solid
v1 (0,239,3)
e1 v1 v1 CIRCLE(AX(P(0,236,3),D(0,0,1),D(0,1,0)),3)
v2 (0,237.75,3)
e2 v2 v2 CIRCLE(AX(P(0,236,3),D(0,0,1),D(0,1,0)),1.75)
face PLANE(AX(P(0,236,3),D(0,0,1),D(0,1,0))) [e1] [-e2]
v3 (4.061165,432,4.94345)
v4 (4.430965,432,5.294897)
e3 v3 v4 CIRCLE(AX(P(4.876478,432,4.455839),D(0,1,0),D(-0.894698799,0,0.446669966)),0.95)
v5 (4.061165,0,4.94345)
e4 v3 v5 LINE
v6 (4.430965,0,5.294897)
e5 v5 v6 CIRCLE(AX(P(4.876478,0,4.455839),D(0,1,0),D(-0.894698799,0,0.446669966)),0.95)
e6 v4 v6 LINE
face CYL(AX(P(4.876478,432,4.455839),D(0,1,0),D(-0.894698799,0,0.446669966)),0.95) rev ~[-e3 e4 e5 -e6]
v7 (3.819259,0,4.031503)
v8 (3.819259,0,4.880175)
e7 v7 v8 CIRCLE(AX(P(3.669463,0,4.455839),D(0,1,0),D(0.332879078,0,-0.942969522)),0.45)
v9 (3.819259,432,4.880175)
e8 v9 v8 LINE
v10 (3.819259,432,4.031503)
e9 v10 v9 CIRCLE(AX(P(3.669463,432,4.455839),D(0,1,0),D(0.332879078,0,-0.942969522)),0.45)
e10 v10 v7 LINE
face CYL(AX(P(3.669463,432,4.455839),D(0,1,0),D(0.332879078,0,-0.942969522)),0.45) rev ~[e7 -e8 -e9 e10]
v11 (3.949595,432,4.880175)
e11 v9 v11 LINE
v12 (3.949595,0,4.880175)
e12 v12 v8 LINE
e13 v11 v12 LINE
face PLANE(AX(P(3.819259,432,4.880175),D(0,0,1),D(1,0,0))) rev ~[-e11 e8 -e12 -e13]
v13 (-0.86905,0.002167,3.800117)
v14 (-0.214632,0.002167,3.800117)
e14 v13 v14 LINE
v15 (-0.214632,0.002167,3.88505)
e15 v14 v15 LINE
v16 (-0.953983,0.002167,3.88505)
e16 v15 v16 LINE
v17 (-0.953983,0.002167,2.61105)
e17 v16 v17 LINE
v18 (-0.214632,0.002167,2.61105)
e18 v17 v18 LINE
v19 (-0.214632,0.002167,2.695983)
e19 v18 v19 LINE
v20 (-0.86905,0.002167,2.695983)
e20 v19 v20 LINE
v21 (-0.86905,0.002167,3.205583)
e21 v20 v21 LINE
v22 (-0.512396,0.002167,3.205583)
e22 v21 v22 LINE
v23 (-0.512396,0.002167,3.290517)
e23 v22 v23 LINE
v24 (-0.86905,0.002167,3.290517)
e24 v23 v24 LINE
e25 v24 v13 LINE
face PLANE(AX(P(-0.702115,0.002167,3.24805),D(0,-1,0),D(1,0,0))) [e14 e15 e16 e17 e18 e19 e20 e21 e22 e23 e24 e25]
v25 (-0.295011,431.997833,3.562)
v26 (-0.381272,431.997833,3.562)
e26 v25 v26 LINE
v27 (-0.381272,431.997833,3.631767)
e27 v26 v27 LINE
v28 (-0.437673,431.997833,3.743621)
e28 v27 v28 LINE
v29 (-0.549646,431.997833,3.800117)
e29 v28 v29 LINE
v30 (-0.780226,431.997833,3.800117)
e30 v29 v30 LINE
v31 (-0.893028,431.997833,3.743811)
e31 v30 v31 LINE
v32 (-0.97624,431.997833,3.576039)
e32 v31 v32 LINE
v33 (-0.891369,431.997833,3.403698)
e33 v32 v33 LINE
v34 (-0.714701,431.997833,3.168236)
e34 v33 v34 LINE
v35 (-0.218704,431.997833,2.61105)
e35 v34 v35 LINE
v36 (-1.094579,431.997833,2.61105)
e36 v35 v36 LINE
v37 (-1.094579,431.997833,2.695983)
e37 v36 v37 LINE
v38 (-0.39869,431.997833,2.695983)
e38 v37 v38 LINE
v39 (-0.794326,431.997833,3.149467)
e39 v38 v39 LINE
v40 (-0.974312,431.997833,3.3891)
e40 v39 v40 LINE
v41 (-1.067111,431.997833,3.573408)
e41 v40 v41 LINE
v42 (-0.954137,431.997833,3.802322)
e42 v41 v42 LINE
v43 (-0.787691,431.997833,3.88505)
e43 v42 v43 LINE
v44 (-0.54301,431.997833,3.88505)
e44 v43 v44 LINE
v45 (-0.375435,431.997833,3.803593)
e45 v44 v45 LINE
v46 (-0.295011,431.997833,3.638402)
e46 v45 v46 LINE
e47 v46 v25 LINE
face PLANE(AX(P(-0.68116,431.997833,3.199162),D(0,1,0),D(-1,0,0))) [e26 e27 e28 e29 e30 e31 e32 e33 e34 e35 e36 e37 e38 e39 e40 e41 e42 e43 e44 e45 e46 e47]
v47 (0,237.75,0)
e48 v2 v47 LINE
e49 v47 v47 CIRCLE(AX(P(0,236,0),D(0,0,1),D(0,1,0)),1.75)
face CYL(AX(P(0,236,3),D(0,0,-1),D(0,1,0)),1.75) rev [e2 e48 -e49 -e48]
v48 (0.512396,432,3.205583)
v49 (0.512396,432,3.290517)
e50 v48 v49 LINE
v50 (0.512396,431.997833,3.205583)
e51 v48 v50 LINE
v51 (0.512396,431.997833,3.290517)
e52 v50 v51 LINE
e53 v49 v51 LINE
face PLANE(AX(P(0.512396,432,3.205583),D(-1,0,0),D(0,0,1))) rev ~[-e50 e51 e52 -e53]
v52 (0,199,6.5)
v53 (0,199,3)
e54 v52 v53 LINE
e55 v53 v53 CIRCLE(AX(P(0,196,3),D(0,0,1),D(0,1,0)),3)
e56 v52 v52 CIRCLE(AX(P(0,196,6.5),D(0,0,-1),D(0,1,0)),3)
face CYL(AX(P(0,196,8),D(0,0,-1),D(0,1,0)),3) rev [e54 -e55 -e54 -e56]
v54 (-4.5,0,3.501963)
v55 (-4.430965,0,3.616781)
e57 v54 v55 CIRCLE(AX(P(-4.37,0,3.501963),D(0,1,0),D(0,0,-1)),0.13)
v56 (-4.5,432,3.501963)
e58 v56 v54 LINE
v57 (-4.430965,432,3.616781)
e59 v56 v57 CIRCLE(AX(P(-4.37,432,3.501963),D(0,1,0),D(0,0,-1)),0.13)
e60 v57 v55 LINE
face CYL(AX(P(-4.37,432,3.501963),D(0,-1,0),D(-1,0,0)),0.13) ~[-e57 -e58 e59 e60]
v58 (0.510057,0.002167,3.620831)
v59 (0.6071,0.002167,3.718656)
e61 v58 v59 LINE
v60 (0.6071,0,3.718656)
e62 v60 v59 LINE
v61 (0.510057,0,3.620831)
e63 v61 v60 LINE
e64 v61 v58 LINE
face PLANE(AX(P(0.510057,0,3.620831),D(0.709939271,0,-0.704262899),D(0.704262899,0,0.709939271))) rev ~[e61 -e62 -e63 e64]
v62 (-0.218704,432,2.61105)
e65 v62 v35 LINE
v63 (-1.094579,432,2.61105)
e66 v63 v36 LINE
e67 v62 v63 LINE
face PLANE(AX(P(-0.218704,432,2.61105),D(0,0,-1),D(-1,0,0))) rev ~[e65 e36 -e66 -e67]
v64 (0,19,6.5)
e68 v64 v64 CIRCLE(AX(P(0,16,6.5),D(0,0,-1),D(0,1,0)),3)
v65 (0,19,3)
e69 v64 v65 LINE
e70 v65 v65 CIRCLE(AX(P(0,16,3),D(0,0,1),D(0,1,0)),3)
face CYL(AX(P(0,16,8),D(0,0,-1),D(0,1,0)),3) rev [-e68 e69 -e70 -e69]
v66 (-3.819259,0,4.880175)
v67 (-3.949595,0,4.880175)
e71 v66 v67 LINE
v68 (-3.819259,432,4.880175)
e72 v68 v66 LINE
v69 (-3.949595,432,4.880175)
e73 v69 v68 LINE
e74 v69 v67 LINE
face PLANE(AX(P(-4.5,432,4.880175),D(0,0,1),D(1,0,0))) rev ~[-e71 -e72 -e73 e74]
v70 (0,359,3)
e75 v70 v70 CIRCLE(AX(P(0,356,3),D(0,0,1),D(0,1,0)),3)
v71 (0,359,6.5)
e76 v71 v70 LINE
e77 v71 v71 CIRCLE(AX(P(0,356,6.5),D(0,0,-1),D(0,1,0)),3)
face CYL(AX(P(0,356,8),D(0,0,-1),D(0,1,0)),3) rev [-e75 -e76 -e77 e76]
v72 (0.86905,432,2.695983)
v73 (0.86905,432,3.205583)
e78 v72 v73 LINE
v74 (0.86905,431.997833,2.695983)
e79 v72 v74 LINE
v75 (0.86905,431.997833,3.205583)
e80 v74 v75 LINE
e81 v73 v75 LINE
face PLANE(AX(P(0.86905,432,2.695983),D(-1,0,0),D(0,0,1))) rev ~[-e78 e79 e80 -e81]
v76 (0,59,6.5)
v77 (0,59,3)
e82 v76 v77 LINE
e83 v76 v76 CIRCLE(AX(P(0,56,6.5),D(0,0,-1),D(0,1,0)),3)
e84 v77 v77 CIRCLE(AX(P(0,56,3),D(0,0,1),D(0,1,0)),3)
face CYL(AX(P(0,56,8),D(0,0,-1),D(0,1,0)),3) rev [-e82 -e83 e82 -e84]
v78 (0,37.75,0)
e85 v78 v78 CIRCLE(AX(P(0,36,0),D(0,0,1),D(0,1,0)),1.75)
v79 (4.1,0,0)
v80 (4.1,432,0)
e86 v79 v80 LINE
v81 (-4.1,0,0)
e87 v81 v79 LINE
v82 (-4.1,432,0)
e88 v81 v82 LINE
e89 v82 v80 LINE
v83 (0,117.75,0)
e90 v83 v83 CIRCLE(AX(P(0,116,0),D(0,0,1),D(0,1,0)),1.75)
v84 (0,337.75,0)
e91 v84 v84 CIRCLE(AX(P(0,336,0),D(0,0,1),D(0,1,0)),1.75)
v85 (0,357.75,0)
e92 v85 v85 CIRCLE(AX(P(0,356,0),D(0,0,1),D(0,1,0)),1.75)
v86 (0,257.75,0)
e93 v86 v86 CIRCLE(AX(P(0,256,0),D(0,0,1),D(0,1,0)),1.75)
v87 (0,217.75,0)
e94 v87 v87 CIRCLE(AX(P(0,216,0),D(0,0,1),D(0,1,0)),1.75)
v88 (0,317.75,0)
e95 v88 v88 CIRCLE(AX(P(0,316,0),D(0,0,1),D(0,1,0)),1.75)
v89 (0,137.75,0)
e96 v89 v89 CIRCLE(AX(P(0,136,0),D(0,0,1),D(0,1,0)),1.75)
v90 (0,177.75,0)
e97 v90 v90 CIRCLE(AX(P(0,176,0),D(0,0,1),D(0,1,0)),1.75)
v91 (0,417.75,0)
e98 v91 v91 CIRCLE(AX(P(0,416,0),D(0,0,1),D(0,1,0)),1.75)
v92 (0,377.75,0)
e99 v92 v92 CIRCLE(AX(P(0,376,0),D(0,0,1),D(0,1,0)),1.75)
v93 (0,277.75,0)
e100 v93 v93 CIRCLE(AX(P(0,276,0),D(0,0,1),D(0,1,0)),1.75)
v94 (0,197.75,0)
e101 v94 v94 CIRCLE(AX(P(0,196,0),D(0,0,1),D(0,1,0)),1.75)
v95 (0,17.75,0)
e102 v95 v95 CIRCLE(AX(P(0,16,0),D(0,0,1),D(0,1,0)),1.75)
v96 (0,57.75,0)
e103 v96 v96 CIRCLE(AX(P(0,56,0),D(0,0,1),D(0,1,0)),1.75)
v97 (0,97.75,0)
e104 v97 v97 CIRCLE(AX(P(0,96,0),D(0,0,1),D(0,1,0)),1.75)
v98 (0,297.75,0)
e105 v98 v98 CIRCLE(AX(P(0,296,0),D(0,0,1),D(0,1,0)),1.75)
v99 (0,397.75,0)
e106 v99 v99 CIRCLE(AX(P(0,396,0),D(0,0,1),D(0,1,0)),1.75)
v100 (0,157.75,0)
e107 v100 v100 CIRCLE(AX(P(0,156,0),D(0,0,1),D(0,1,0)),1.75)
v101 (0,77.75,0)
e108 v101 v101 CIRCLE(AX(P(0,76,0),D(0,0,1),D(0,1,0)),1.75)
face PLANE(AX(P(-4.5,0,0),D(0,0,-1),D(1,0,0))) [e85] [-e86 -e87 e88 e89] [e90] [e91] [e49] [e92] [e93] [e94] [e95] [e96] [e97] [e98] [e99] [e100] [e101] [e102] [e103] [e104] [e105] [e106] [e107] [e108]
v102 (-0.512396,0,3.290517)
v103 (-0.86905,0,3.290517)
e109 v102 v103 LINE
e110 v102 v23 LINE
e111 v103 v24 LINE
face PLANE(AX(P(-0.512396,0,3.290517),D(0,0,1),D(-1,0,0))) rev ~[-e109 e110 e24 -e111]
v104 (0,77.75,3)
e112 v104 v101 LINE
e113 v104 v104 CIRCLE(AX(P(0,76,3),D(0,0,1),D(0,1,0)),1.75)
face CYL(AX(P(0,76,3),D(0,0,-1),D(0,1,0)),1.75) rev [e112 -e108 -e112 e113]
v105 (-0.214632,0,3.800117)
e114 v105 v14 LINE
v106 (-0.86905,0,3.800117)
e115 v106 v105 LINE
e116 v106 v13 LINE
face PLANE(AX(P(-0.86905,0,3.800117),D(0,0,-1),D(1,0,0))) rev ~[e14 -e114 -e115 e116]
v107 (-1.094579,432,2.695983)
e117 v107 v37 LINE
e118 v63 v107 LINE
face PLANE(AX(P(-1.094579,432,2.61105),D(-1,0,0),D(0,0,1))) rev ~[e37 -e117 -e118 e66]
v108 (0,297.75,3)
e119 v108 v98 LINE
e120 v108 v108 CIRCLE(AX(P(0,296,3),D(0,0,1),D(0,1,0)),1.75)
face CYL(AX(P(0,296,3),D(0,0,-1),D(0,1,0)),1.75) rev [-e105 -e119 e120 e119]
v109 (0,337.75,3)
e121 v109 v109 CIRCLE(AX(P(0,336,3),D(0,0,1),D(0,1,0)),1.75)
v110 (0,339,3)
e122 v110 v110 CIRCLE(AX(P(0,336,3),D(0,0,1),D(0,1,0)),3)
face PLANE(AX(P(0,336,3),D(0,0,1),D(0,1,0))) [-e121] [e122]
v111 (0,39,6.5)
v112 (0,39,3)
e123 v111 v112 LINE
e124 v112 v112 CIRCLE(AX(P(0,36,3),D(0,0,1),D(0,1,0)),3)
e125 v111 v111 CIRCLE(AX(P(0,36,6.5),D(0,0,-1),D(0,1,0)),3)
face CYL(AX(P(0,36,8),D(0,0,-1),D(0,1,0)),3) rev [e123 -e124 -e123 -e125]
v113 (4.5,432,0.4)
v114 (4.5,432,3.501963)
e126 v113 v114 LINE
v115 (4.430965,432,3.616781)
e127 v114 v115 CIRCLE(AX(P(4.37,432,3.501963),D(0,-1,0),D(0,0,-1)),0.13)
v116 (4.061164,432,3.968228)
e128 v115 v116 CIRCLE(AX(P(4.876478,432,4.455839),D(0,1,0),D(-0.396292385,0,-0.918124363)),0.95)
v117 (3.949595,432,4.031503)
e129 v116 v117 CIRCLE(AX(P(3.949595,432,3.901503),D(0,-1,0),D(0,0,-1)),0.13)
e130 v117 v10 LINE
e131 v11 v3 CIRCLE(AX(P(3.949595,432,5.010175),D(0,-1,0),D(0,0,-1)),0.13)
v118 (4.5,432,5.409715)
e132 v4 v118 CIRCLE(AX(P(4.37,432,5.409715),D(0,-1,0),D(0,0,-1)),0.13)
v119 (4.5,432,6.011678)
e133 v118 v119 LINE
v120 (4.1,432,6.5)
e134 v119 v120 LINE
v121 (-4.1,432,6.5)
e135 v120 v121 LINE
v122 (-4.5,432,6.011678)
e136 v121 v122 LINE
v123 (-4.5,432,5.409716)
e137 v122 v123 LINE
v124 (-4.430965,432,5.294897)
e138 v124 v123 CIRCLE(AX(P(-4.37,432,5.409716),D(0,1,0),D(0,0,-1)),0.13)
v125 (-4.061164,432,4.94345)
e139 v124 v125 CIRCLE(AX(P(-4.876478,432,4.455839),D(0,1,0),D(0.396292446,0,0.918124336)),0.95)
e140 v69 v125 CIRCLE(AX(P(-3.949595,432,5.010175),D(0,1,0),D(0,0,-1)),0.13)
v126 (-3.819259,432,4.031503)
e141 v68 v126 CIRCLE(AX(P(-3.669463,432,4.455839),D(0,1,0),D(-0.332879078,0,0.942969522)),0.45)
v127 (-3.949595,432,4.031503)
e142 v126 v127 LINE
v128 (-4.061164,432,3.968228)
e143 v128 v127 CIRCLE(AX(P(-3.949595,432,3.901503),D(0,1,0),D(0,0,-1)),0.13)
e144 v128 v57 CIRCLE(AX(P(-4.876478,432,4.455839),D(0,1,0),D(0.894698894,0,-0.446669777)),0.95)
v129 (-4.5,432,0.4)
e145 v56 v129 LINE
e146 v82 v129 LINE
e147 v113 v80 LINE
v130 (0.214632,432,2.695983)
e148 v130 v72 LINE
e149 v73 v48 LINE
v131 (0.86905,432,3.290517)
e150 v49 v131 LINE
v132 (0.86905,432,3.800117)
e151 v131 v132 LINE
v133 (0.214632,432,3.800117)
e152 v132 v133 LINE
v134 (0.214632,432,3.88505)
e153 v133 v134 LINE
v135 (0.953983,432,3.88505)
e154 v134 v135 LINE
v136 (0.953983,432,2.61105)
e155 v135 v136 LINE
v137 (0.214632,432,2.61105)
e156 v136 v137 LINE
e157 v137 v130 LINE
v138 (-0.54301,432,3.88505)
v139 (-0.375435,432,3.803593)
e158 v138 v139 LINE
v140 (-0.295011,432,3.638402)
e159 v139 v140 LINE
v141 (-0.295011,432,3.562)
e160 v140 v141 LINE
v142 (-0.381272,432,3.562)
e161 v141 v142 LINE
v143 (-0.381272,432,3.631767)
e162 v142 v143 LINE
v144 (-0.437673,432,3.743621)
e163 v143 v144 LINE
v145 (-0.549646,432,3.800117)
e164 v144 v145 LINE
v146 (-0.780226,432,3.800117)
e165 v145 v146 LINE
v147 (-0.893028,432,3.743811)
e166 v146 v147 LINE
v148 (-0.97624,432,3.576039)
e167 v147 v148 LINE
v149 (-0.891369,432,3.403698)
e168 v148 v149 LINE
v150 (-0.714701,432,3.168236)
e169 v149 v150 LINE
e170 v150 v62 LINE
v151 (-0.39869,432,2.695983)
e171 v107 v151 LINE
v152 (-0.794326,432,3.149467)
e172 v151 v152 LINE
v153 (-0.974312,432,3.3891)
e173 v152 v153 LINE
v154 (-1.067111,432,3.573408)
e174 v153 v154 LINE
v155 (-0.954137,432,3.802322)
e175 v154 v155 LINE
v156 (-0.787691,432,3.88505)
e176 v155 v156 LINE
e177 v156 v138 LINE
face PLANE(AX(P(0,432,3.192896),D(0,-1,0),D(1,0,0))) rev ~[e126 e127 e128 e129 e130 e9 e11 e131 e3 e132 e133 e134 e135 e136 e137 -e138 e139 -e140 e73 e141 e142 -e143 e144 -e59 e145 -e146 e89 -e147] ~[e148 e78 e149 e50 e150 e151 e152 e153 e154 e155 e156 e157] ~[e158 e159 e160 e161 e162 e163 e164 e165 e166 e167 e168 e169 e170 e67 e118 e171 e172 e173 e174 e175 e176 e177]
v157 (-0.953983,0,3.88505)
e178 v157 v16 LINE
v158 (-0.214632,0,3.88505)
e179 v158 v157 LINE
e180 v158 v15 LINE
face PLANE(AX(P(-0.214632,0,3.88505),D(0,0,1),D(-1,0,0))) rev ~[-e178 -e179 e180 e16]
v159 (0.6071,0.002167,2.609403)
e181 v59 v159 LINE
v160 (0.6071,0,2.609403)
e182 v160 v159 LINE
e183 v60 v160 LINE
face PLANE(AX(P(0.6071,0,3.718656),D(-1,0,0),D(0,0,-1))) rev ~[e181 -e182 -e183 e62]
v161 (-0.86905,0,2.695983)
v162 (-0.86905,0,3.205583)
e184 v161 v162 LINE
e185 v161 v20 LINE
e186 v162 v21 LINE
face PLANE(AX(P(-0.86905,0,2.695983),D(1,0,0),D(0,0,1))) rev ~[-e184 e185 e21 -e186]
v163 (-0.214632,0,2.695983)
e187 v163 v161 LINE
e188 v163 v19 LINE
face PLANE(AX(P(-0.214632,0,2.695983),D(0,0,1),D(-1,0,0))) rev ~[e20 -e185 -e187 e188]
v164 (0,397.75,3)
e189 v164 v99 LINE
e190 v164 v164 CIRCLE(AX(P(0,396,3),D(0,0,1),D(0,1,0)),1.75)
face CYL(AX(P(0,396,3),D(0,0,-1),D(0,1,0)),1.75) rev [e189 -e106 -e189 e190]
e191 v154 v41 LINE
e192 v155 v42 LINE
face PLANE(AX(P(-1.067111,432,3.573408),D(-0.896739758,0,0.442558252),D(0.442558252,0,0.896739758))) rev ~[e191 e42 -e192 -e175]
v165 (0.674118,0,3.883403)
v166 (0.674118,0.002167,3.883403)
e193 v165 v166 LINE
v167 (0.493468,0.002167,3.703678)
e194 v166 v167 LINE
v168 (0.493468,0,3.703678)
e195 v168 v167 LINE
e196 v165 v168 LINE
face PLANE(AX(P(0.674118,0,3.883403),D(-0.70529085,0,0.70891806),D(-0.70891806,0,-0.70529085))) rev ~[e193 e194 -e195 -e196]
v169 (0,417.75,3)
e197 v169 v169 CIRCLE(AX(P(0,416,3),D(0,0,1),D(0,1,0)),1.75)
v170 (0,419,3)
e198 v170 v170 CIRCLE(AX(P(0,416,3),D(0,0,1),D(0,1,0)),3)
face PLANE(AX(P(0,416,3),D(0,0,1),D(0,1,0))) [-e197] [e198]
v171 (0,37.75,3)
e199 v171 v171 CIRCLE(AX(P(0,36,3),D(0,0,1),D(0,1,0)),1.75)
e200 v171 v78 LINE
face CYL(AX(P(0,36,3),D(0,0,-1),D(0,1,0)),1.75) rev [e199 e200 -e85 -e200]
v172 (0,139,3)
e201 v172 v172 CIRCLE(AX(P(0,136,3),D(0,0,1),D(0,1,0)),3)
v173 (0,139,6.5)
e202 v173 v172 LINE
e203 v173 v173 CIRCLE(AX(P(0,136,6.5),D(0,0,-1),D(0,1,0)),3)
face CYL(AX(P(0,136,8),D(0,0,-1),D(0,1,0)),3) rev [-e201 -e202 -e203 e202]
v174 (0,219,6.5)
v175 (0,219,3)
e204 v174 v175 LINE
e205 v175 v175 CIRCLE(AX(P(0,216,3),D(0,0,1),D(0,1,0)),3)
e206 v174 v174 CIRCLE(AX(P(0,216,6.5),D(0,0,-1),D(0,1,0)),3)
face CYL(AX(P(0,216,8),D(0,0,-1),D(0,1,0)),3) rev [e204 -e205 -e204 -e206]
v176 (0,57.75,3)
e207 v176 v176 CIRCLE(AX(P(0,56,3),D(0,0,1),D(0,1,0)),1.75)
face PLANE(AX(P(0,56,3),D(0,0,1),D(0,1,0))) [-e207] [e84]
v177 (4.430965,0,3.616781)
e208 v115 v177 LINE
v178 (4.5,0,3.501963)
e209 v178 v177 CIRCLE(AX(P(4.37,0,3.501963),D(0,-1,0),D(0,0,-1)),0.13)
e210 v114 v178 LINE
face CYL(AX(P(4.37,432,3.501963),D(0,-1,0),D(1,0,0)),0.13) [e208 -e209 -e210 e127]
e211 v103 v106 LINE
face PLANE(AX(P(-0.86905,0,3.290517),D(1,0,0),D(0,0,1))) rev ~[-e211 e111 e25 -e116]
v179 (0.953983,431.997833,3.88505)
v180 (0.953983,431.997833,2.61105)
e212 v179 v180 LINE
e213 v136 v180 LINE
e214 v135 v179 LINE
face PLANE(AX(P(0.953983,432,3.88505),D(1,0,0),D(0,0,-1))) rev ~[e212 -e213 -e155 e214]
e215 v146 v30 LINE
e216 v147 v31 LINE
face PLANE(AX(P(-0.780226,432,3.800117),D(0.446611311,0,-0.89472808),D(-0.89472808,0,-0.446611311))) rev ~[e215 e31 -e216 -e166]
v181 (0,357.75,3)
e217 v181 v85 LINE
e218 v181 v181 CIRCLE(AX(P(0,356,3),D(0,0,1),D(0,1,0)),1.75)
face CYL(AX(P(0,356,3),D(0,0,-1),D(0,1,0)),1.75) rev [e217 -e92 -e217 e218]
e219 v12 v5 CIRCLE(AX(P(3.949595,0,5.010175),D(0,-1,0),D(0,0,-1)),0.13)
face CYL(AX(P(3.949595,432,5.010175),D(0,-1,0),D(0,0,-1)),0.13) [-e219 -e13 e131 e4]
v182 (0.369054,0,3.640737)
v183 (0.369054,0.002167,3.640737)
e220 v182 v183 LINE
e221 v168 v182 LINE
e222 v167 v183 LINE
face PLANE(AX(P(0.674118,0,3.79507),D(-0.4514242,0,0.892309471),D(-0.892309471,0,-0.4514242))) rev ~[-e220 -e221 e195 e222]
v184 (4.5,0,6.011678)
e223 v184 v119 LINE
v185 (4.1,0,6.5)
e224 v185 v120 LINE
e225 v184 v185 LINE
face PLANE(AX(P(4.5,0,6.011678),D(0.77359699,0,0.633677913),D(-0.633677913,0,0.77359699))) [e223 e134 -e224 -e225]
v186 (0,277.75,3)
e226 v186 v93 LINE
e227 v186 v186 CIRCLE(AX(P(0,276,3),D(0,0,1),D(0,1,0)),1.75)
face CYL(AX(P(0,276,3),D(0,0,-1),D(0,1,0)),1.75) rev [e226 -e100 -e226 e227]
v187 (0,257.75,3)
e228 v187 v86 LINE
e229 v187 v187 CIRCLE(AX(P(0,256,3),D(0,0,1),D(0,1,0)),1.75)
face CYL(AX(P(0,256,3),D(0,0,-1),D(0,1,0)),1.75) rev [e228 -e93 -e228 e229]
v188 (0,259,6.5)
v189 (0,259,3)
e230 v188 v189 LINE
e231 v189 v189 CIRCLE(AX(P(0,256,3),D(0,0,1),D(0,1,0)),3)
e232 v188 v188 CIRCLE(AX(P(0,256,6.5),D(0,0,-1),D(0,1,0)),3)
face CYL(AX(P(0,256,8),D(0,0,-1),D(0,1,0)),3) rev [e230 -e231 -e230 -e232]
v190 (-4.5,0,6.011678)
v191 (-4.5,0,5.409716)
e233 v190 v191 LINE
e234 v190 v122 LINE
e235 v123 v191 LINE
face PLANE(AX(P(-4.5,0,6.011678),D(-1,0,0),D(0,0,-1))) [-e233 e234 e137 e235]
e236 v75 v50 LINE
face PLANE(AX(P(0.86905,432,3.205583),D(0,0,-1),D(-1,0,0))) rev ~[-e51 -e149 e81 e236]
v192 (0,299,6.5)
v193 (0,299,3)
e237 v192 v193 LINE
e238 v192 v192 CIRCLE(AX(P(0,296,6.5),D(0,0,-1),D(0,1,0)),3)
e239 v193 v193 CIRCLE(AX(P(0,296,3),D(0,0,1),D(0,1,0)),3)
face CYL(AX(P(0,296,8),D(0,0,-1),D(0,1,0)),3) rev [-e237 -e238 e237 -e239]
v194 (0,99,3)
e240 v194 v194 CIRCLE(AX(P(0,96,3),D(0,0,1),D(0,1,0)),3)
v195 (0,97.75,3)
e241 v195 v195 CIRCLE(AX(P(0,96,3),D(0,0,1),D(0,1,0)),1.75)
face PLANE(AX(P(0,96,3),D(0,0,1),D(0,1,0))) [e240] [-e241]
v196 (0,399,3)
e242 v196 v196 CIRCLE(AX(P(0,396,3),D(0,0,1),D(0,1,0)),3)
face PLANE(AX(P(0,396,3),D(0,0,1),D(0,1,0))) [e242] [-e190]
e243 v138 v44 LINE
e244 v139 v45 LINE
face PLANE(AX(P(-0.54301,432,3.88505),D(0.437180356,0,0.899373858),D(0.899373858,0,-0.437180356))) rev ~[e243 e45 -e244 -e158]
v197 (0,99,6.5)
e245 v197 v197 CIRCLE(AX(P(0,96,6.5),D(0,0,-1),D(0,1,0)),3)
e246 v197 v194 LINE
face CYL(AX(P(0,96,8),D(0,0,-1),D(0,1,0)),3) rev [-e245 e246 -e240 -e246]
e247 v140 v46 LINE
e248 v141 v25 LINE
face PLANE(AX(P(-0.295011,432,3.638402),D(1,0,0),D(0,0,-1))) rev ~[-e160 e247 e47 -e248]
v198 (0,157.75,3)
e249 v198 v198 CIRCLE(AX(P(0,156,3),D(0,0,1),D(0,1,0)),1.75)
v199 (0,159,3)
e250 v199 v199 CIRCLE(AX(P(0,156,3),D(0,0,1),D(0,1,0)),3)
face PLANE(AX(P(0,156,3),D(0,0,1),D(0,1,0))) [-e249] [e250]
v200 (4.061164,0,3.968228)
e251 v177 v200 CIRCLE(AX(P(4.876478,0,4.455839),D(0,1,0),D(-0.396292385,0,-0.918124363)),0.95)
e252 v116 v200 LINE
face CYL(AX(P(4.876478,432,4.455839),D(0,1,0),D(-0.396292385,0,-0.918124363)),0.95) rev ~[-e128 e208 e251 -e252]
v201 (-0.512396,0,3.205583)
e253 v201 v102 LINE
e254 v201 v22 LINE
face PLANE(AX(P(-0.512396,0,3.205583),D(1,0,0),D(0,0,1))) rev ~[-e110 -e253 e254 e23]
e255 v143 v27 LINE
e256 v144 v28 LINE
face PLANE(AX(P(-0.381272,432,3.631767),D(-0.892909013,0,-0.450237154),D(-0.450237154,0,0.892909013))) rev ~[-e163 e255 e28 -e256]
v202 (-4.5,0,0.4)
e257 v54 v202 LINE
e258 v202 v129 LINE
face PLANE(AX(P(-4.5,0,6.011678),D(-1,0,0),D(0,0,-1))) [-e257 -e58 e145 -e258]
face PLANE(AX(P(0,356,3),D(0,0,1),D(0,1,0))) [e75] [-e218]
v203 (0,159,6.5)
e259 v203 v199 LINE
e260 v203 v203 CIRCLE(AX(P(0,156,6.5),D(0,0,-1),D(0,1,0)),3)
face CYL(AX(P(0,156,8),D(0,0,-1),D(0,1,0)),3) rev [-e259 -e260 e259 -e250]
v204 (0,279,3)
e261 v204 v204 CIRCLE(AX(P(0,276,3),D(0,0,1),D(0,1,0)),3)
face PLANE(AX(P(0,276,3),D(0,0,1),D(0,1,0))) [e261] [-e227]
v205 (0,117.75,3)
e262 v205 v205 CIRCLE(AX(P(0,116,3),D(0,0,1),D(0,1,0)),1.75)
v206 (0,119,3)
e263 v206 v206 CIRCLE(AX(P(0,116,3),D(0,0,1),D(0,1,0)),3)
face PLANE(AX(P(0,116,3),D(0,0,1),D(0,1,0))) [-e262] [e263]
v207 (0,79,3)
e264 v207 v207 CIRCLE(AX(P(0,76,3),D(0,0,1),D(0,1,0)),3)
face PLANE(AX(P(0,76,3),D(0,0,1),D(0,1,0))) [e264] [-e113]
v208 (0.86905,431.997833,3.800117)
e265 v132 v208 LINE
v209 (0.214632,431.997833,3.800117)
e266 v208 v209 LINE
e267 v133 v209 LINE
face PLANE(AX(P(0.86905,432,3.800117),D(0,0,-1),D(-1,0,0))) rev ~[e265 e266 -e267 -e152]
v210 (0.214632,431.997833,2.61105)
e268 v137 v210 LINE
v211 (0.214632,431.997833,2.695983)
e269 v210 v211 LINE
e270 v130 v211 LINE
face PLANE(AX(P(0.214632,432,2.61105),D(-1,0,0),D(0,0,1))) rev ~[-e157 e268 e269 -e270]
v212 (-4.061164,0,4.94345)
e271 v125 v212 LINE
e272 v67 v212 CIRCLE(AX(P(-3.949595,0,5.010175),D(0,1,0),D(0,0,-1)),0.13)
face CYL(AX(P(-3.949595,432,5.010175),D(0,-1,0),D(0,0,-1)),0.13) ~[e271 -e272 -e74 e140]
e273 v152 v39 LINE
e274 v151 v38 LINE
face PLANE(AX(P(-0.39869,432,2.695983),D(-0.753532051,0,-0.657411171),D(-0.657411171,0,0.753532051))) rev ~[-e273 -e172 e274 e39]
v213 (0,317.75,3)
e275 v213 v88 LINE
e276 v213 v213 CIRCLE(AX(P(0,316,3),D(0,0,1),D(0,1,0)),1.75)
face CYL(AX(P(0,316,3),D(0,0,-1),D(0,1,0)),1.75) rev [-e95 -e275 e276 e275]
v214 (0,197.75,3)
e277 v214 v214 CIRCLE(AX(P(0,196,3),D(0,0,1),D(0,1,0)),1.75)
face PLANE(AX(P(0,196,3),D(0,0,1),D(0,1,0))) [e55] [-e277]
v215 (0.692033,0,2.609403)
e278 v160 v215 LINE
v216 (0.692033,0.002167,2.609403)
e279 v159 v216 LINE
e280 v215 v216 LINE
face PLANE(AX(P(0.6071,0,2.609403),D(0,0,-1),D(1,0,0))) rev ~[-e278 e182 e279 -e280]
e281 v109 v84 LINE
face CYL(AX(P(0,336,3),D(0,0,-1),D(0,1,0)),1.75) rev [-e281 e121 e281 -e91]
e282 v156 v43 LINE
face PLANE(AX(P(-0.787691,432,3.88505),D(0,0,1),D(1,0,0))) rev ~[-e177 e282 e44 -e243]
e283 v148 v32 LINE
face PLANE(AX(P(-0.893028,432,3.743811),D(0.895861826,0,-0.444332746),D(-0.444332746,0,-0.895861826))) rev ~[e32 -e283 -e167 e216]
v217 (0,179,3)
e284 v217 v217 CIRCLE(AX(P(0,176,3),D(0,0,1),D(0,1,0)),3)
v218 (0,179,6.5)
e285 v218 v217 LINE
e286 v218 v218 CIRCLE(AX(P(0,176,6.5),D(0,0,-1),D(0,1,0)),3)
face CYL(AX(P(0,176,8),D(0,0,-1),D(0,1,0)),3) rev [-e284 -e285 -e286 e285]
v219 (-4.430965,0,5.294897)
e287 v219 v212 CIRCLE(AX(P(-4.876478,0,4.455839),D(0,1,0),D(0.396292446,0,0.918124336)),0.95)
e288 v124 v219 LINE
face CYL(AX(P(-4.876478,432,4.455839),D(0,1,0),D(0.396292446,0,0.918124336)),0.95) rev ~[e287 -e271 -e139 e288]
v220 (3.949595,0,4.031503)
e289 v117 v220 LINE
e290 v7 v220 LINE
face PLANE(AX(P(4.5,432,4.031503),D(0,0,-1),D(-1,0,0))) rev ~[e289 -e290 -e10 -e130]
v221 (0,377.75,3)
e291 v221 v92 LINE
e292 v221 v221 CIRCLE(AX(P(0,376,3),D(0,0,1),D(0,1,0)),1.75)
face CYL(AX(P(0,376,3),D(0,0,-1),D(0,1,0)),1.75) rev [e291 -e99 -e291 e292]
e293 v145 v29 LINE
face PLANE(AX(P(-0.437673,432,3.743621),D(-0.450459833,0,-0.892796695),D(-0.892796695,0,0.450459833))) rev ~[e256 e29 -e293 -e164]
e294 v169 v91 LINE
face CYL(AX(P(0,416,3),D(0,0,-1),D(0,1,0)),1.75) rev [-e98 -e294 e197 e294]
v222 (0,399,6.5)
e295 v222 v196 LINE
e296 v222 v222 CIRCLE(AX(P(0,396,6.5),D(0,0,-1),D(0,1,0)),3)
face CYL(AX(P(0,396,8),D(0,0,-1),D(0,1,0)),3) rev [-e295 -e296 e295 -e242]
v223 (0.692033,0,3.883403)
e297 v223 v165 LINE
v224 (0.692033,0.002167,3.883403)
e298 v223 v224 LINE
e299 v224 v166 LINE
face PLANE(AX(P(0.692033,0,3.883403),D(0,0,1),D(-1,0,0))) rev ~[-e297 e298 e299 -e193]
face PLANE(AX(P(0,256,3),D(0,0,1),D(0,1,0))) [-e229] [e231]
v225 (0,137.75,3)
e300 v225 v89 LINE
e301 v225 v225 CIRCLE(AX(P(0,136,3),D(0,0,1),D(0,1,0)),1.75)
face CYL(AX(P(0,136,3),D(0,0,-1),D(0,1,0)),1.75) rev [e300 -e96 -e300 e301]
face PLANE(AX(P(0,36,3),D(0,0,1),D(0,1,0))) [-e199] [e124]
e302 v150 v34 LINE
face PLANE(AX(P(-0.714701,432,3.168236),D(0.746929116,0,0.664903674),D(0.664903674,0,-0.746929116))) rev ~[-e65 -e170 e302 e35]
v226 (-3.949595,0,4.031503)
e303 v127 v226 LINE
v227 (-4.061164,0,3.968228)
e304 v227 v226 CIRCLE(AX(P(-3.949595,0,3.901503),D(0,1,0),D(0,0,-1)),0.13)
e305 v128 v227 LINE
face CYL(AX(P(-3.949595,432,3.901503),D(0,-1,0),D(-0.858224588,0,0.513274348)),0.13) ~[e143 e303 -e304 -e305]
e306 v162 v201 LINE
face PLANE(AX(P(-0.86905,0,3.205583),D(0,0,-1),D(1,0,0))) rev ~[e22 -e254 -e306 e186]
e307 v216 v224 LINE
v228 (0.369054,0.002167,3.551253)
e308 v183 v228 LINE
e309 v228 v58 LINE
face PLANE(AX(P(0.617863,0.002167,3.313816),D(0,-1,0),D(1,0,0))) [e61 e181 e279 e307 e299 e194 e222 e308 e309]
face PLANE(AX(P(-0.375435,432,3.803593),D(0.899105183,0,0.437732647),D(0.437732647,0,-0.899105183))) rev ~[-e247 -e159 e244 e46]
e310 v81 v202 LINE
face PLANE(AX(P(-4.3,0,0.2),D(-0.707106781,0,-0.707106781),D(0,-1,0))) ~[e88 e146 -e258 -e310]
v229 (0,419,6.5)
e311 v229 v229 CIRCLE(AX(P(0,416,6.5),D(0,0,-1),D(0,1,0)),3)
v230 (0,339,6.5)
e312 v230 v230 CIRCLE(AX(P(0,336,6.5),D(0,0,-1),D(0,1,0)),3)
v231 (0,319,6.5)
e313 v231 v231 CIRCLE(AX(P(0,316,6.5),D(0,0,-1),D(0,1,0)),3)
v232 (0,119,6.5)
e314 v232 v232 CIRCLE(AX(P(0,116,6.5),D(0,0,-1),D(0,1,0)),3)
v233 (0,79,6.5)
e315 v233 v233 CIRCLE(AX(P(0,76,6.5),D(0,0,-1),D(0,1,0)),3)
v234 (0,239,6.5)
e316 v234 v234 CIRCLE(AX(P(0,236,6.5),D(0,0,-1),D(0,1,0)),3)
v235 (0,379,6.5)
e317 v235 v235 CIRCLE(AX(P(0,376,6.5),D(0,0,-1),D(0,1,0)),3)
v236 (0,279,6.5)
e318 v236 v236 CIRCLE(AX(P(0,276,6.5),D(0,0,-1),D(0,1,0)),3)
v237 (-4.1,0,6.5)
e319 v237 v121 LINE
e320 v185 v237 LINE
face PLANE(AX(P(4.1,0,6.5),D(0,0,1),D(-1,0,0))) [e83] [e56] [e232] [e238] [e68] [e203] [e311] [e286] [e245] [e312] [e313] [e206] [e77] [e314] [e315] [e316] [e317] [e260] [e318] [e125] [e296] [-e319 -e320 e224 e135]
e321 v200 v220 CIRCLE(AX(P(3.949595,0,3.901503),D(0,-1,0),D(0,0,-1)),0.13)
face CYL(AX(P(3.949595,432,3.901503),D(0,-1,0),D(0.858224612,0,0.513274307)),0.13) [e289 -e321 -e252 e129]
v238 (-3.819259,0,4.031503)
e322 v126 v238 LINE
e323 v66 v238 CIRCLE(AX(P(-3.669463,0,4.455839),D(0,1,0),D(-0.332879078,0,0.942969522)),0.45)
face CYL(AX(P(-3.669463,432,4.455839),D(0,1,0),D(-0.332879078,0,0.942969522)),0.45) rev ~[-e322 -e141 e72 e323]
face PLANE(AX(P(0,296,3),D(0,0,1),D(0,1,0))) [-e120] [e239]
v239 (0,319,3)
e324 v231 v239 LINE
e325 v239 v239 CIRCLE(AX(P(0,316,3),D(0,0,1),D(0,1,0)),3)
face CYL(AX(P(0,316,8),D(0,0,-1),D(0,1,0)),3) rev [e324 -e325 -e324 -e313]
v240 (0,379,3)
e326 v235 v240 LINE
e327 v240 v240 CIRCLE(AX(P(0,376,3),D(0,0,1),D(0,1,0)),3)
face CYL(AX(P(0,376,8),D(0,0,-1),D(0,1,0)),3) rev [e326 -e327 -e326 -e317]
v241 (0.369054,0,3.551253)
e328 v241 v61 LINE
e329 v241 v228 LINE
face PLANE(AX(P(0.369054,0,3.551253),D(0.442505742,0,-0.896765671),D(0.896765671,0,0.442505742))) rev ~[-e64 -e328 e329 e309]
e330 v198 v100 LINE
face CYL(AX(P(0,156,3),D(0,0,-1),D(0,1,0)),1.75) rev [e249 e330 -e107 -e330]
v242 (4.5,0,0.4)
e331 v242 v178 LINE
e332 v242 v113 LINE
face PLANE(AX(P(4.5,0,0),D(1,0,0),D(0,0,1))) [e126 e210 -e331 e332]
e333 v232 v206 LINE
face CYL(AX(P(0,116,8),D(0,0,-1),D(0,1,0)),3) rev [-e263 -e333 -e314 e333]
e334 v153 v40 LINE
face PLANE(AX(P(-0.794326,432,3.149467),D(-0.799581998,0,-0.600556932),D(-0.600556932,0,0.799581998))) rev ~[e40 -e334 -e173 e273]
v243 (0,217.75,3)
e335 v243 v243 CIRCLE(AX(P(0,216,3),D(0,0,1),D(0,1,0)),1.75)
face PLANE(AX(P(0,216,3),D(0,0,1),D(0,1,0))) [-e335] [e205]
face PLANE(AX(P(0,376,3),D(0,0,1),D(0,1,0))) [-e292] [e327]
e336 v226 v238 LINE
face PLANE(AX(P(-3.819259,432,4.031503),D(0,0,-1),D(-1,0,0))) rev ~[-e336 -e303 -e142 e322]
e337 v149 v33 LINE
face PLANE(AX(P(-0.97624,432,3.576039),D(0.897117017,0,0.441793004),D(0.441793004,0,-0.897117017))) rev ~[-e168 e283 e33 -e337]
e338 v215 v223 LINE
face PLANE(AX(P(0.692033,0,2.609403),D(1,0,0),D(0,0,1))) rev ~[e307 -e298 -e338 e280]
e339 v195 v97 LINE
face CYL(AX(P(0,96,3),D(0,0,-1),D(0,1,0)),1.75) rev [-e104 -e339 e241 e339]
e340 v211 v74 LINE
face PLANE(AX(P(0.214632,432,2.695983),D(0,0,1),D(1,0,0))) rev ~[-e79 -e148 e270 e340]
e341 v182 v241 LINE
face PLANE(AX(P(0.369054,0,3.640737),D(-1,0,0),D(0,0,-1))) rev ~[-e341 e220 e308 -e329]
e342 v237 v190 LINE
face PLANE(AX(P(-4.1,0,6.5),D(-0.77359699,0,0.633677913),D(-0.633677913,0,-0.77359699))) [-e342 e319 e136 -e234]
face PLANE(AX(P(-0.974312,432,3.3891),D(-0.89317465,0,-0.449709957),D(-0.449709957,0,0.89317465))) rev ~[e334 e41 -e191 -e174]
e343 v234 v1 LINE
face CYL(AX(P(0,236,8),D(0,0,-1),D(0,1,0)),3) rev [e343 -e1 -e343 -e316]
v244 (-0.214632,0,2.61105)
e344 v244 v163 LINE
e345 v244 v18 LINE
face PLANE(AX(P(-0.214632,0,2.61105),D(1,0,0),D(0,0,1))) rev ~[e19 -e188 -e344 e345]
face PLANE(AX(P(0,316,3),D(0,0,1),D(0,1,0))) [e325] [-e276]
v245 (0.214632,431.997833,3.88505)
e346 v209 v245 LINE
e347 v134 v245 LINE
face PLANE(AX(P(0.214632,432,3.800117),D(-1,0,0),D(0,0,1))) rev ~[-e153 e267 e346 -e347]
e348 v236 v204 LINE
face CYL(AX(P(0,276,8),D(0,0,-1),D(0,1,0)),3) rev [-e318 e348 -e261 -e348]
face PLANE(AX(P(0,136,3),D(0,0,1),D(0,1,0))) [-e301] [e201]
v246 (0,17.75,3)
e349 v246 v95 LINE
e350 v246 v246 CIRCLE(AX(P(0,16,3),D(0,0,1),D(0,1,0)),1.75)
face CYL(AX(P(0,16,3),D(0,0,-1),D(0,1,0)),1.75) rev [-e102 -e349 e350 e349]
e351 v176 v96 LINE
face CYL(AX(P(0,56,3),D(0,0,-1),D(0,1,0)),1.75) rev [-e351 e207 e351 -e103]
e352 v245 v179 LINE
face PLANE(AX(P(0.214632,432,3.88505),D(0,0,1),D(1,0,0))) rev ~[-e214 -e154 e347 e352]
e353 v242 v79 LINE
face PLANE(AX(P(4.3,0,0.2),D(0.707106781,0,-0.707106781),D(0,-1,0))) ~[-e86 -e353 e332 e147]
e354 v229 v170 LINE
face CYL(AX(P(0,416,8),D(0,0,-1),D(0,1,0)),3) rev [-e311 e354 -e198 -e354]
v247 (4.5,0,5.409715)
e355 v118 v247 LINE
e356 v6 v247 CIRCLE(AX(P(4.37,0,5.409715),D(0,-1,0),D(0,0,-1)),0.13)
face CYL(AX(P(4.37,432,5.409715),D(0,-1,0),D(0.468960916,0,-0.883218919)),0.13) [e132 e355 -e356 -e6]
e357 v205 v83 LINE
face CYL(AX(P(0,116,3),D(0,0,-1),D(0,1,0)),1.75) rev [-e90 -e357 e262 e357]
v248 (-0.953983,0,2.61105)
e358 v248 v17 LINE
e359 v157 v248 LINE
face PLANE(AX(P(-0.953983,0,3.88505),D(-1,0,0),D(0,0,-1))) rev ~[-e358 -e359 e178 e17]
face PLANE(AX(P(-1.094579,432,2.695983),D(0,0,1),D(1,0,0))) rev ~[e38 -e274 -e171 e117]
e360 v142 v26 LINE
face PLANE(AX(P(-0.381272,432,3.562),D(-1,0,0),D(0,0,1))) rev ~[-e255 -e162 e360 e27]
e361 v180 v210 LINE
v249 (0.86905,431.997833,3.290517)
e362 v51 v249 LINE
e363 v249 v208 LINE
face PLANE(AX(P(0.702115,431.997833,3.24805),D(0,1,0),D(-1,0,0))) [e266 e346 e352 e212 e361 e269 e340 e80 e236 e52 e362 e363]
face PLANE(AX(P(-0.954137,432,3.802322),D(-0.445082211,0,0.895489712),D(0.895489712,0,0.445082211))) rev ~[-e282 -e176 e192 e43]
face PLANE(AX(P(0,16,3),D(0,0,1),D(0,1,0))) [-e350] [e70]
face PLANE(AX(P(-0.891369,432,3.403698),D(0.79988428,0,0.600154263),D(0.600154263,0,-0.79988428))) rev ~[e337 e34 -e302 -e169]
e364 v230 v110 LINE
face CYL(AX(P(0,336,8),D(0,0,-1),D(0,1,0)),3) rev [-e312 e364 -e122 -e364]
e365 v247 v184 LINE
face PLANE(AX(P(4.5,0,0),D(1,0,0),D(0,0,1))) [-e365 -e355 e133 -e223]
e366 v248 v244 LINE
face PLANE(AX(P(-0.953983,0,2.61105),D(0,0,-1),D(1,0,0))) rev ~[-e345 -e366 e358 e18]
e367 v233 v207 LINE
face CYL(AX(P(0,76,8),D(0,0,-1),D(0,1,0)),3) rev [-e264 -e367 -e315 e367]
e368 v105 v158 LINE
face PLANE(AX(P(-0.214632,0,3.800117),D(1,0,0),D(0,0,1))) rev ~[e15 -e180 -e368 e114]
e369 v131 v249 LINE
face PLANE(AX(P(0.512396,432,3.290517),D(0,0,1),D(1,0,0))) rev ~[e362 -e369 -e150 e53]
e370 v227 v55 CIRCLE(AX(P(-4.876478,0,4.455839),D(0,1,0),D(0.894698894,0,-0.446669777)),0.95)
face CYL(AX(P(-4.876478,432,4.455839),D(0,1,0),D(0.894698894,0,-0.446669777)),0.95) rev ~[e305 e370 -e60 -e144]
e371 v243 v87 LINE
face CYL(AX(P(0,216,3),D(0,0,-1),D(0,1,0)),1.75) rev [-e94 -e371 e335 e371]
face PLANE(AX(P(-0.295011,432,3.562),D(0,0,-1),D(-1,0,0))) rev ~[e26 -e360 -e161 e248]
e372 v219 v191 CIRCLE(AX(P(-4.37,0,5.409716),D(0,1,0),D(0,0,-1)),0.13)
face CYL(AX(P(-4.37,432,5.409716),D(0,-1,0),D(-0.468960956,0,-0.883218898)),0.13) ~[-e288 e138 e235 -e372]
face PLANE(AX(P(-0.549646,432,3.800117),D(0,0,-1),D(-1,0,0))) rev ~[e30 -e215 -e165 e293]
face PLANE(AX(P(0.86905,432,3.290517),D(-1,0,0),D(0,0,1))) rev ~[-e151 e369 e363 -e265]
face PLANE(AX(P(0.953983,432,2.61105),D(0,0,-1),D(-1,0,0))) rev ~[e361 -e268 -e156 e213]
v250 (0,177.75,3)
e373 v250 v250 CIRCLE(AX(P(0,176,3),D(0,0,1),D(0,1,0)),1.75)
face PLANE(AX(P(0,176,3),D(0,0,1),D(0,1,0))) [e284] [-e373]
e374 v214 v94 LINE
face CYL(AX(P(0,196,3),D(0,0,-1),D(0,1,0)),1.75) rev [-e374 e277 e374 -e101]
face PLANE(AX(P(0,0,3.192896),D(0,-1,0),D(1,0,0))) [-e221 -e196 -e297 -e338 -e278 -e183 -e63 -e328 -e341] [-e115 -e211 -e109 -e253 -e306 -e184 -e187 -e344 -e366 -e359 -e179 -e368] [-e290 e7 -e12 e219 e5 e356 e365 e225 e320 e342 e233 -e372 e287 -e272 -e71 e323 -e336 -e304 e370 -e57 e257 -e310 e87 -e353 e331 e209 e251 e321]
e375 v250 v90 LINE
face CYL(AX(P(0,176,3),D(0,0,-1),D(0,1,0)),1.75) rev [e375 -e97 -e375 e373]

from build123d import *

# Parameters (mm, degrees)
SALIENTE_EXTRUIR1_DEPTH = 432
CORTAR_EXTRUIR1_DEPTH   = 433.072331908
CORTAR_EXTRUIR2_DEPTH   = 433.072331908
CORTAR_EXTRUIR3_DEPTH   = 433.072331908
CORTAR_EXTRUIR4_DEPTH   = 433.072331908
CORTAR_EXTRUIR5_DEPTH   = 433.072331908
CORTAR_EXTRUIR6_DEPTH   = 433.072331908
CORTAR_EXTRUIR7_DEPTH   = 0.002166667
CORTAR_EXTRUIR8_DEPTH   = 0.002166667
CORTAR_EXTRUIR9_DEPTH   = 0.002166667
CORTAR_EXTRUIR10_DEPTH  = 0.002166667
NGULO_DE_SALIDA1_ANGLE  = 45.1469538
CHAFL_N1_SIZE           = 0.4
REDONDEO1_R             = 0.130000023
MATRIZL2_COUNT          = 21
MATRIZL2_PITCH          = 20


with BuildPart() as part:
    # Croquis1 → Saliente-Extruir1 (new body)
    with BuildSketch(Plane.XZ):
        Polygon((4.5, 0), (4.5, 6.01167813), (4.1, 6.50000002), (-4.1, 6.50000002), (-4.5, 6.01167813), (-4.5, 0), align=None)
    extrude(amount=-SALIENTE_EXTRUIR1_DEPTH)

    # Croquis2 → Cortar-Extruir1 (cut, through all)
    with BuildSketch(Plane(origin=(0, 432, 0), x_dir=(-1, 0, 0), z_dir=(0, 1, 0))):
        with BuildLine():
            Line((-4.5, 4.88017535), (-4.5, 4.03150278))
            Line((-4.5, 4.03150278), (-3.819258765, 4.03150278))
            ThreePointArc((-3.819258765, 4.03150278), (-3.21946318, 4.455839065), (-3.819258765, 4.88017535))
            Line((-3.819258765, 4.88017535), (-4.5, 4.88017535))
        make_face()
    extrude(amount=-CORTAR_EXTRUIR1_DEPTH, mode=Mode.SUBTRACT)

    # Croquis3 → Cortar-Extruir2 (cut, through all)
    with BuildSketch(Plane(origin=(0, 432, 0), x_dir=(-1, 0, 0), z_dir=(0, 1, 0))):
        with BuildLine():
            Line((-4.026513856, 4.03150278), (-4.5, 4.03150278))
            Line((-4.5, 4.03150278), (-4.5, 3.583620931))
            ThreePointArc((-4.5, 3.583620931), (-4.223645982, 3.76568645), (-4.026513856, 4.03150278))
        make_face()
    extrude(amount=-CORTAR_EXTRUIR2_DEPTH, mode=Mode.SUBTRACT)

    # Croquis4 → Cortar-Extruir3 (cut, through all)
    with BuildSketch(Plane(origin=(0, 432, 0), x_dir=(-1, 0, 0), z_dir=(0, 1, 0))):
        with BuildLine():
            Line((-4.5, 5.328056964), (-4.5, 4.88017535))
            Line((-4.5, 4.88017535), (-4.026513974, 4.88017535))
            ThreePointArc((-4.026513974, 4.88017535), (-4.223646078, 5.145991535), (-4.5, 5.328056964))
        make_face()
    extrude(amount=-CORTAR_EXTRUIR3_DEPTH, mode=Mode.SUBTRACT)

    # Croquis5 → Cortar-Extruir4 (cut, through all)
    with BuildSketch(Plane(origin=(0, 432, 0), x_dir=(-1, 0, 0), z_dir=(0, 1, 0))):
        with BuildLine():
            Line((4.5, 4.03150278), (4.5, 4.88017535))
            Line((4.5, 4.88017535), (3.819258765, 4.88017535))
            ThreePointArc((3.819258765, 4.88017535), (3.21946318, 4.455839065), (3.819258765, 4.03150278))
            Line((3.819258765, 4.03150278), (4.5, 4.03150278))
        make_face()
    extrude(amount=-CORTAR_EXTRUIR4_DEPTH, mode=Mode.SUBTRACT)

    # Croquis6 → Cortar-Extruir5 (cut, through all)
    with BuildSketch(Plane(origin=(0, 432, 0), x_dir=(-1, 0, 0), z_dir=(0, 1, 0))):
        with BuildLine():
            Line((4.026513826, 4.88017535), (4.5, 4.88017535))
            Line((4.5, 4.88017535), (4.5, 5.328057255))
            ThreePointArc((4.5, 5.328057255), (4.223645966, 5.145991706), (4.026513826, 4.88017535))
        make_face()
    extrude(amount=-CORTAR_EXTRUIR5_DEPTH, mode=Mode.SUBTRACT)

    # Croquis7 → Cortar-Extruir6 (cut, through all)
    with BuildSketch(Plane(origin=(0, 432, 0), x_dir=(-1, 0, 0), z_dir=(0, 1, 0))):
        with BuildLine():
            Line((4.5, 3.583620926), (4.5, 4.03150278))
            Line((4.5, 4.03150278), (4.026513851, 4.03150278))
            ThreePointArc((4.026513851, 4.03150278), (4.223645987, 3.765686455), (4.5, 3.583620926))
        make_face()
    extrude(amount=-CORTAR_EXTRUIR6_DEPTH, mode=Mode.SUBTRACT)

    # Croquis8 → Cortar-Extruir7 (cut)
    with BuildSketch(Plane(origin=(0, 432, 0), x_dir=(-1, 0, 0), z_dir=(0, 1, 0))):
        Polygon((0.891369267, 3.403698133), (0.714701433, 3.168235633), (0.2187042, 2.61105), (1.0945792, 2.61105), (1.0945792, 2.695983333), (0.398689633, 2.695983333), (0.794326433, 3.149466667), (0.9743123, 3.3891), (1.067110588, 3.573407857), (0.95413722, 3.802321701), (0.7876908, 3.88505), (0.54301, 3.88505), (0.375434678, 3.803592619), (0.295011167, 3.6384023), (0.295011167, 3.562), (0.3812718, 3.562), (0.3812718, 3.631766667), (0.437672733, 3.743620833), (0.549645633, 3.800116667), (0.7802262, 3.800116667), (0.893028067, 3.743810633), (0.976240026, 3.576039029), align=None)
    extrude(amount=-CORTAR_EXTRUIR7_DEPTH, mode=Mode.SUBTRACT)

    # Croquis9 → Cortar-Extruir8 (cut)
    with BuildSketch(Plane.XZ):
        Polygon((-0.214632167, 3.88505), (-0.953983333, 3.88505), (-0.953983333, 2.61105), (-0.214632167, 2.61105), (-0.214632167, 2.695983333), (-0.86905, 2.695983333), (-0.86905, 3.205583333), (-0.5123963, 3.205583333), (-0.5123963, 3.290516667), (-0.86905, 3.290516667), (-0.86905, 3.800116667), (-0.214632167, 3.800116667), align=None)
    extrude(amount=-CORTAR_EXTRUIR8_DEPTH, mode=Mode.SUBTRACT)

    # Croquis10 → Cortar-Extruir9 (cut)
    with BuildSketch(Plane(origin=(0, 432, 0), x_dir=(-1, 0, 0), z_dir=(0, 1, 0))):
        Polygon((-0.214632167, 3.88505), (-0.953983333, 3.88505), (-0.953983333, 2.61105), (-0.214632167, 2.61105), (-0.214632167, 2.695983333), (-0.86905, 2.695983333), (-0.86905, 3.205583333), (-0.5123963, 3.205583333), (-0.5123963, 3.290516667), (-0.86905, 3.290516667), (-0.86905, 3.800116667), (-0.214632167, 3.800116667), align=None)
    extrude(amount=-CORTAR_EXTRUIR9_DEPTH, mode=Mode.SUBTRACT)

    # Croquis11 → Cortar-Extruir10 (cut)
    with BuildSketch(Plane.XZ):
        Polygon((0.510057167, 3.620830633), (0.6071, 3.718655633), (0.6071, 2.609403333), (0.692033333, 2.609403333), (0.692033333, 3.883403333), (0.6741176, 3.883403333), (0.6741176, 3.795069794), (0.3690544, 3.640736667), (0.3690544, 3.551253333), align=None)
    extrude(amount=-CORTAR_EXTRUIR10_DEPTH, mode=Mode.SUBTRACT)

    # Ángulo de salida1
    ngulo_de_salida1_faces = [part.faces().sort_by_distance(p)[0] for p in [
        (0.6741176, 0.001083333, 3.839236564),
    ]]
    draft(ngulo_de_salida1_faces, Plane(origin=(0.692033333, 0.002166667, 3.883403333), x_dir=(-1, 0, 0), z_dir=(0, 0, -1)), NGULO_DE_SALIDA1_ANGLE)

    # Chaflán1
    chafl_n1_edges = [part.edges().sort_by_distance(p)[0] for p in [
        (-4.5, 216, 0),
        (4.5, 216, 0),
    ]]
    chamfer(chafl_n1_edges, length=CHAFL_N1_SIZE)

    # Redondeo1
    redondeo1_edges = [part.edges().sort_by_distance(p)[0] for p in [
        (4.026513856, 216, 4.03150278),
        (4.5, 216, 3.583620931),
        (4.5, 216, 5.328056964),
        (4.026513974, 216, 4.88017535),
        (-4.026513826, 216, 4.88017535),
        (-4.5, 216, 5.328057255),
        (-4.5, 216, 3.583620926),
        (-4.026513851, 216, 4.03150278),
    ]]
    fillet(redondeo1_edges, radius=REDONDEO1_R)

    # Croquis34 → Taladro roscado M3.5x0.61 (revolve, cut)
    with BuildSketch(Plane(origin=(0, 16, 0), x_dir=(0, 1, 0), z_dir=(1, 0, 0))):
        Polygon((0, 0), (0, 8), (3, 8), (3, 3), (1.75, 3), (1.75, 0), align=None)
    taladro_roscado_m3_5x0_61 = revolve(axis=Axis((0, 16, -6.35), (0, 0, 1)), mode=Mode.SUBTRACT)

    # MatrizL2: Taladro roscado M3.5x0.61 ×21
    with Locations(*[(0, i * MATRIZL2_PITCH, 0) for i in range(1, MATRIZL2_COUNT)]):
        add(taladro_roscado_m3_5x0_61, mode=Mode.SUBTRACT)


solid = part.part
